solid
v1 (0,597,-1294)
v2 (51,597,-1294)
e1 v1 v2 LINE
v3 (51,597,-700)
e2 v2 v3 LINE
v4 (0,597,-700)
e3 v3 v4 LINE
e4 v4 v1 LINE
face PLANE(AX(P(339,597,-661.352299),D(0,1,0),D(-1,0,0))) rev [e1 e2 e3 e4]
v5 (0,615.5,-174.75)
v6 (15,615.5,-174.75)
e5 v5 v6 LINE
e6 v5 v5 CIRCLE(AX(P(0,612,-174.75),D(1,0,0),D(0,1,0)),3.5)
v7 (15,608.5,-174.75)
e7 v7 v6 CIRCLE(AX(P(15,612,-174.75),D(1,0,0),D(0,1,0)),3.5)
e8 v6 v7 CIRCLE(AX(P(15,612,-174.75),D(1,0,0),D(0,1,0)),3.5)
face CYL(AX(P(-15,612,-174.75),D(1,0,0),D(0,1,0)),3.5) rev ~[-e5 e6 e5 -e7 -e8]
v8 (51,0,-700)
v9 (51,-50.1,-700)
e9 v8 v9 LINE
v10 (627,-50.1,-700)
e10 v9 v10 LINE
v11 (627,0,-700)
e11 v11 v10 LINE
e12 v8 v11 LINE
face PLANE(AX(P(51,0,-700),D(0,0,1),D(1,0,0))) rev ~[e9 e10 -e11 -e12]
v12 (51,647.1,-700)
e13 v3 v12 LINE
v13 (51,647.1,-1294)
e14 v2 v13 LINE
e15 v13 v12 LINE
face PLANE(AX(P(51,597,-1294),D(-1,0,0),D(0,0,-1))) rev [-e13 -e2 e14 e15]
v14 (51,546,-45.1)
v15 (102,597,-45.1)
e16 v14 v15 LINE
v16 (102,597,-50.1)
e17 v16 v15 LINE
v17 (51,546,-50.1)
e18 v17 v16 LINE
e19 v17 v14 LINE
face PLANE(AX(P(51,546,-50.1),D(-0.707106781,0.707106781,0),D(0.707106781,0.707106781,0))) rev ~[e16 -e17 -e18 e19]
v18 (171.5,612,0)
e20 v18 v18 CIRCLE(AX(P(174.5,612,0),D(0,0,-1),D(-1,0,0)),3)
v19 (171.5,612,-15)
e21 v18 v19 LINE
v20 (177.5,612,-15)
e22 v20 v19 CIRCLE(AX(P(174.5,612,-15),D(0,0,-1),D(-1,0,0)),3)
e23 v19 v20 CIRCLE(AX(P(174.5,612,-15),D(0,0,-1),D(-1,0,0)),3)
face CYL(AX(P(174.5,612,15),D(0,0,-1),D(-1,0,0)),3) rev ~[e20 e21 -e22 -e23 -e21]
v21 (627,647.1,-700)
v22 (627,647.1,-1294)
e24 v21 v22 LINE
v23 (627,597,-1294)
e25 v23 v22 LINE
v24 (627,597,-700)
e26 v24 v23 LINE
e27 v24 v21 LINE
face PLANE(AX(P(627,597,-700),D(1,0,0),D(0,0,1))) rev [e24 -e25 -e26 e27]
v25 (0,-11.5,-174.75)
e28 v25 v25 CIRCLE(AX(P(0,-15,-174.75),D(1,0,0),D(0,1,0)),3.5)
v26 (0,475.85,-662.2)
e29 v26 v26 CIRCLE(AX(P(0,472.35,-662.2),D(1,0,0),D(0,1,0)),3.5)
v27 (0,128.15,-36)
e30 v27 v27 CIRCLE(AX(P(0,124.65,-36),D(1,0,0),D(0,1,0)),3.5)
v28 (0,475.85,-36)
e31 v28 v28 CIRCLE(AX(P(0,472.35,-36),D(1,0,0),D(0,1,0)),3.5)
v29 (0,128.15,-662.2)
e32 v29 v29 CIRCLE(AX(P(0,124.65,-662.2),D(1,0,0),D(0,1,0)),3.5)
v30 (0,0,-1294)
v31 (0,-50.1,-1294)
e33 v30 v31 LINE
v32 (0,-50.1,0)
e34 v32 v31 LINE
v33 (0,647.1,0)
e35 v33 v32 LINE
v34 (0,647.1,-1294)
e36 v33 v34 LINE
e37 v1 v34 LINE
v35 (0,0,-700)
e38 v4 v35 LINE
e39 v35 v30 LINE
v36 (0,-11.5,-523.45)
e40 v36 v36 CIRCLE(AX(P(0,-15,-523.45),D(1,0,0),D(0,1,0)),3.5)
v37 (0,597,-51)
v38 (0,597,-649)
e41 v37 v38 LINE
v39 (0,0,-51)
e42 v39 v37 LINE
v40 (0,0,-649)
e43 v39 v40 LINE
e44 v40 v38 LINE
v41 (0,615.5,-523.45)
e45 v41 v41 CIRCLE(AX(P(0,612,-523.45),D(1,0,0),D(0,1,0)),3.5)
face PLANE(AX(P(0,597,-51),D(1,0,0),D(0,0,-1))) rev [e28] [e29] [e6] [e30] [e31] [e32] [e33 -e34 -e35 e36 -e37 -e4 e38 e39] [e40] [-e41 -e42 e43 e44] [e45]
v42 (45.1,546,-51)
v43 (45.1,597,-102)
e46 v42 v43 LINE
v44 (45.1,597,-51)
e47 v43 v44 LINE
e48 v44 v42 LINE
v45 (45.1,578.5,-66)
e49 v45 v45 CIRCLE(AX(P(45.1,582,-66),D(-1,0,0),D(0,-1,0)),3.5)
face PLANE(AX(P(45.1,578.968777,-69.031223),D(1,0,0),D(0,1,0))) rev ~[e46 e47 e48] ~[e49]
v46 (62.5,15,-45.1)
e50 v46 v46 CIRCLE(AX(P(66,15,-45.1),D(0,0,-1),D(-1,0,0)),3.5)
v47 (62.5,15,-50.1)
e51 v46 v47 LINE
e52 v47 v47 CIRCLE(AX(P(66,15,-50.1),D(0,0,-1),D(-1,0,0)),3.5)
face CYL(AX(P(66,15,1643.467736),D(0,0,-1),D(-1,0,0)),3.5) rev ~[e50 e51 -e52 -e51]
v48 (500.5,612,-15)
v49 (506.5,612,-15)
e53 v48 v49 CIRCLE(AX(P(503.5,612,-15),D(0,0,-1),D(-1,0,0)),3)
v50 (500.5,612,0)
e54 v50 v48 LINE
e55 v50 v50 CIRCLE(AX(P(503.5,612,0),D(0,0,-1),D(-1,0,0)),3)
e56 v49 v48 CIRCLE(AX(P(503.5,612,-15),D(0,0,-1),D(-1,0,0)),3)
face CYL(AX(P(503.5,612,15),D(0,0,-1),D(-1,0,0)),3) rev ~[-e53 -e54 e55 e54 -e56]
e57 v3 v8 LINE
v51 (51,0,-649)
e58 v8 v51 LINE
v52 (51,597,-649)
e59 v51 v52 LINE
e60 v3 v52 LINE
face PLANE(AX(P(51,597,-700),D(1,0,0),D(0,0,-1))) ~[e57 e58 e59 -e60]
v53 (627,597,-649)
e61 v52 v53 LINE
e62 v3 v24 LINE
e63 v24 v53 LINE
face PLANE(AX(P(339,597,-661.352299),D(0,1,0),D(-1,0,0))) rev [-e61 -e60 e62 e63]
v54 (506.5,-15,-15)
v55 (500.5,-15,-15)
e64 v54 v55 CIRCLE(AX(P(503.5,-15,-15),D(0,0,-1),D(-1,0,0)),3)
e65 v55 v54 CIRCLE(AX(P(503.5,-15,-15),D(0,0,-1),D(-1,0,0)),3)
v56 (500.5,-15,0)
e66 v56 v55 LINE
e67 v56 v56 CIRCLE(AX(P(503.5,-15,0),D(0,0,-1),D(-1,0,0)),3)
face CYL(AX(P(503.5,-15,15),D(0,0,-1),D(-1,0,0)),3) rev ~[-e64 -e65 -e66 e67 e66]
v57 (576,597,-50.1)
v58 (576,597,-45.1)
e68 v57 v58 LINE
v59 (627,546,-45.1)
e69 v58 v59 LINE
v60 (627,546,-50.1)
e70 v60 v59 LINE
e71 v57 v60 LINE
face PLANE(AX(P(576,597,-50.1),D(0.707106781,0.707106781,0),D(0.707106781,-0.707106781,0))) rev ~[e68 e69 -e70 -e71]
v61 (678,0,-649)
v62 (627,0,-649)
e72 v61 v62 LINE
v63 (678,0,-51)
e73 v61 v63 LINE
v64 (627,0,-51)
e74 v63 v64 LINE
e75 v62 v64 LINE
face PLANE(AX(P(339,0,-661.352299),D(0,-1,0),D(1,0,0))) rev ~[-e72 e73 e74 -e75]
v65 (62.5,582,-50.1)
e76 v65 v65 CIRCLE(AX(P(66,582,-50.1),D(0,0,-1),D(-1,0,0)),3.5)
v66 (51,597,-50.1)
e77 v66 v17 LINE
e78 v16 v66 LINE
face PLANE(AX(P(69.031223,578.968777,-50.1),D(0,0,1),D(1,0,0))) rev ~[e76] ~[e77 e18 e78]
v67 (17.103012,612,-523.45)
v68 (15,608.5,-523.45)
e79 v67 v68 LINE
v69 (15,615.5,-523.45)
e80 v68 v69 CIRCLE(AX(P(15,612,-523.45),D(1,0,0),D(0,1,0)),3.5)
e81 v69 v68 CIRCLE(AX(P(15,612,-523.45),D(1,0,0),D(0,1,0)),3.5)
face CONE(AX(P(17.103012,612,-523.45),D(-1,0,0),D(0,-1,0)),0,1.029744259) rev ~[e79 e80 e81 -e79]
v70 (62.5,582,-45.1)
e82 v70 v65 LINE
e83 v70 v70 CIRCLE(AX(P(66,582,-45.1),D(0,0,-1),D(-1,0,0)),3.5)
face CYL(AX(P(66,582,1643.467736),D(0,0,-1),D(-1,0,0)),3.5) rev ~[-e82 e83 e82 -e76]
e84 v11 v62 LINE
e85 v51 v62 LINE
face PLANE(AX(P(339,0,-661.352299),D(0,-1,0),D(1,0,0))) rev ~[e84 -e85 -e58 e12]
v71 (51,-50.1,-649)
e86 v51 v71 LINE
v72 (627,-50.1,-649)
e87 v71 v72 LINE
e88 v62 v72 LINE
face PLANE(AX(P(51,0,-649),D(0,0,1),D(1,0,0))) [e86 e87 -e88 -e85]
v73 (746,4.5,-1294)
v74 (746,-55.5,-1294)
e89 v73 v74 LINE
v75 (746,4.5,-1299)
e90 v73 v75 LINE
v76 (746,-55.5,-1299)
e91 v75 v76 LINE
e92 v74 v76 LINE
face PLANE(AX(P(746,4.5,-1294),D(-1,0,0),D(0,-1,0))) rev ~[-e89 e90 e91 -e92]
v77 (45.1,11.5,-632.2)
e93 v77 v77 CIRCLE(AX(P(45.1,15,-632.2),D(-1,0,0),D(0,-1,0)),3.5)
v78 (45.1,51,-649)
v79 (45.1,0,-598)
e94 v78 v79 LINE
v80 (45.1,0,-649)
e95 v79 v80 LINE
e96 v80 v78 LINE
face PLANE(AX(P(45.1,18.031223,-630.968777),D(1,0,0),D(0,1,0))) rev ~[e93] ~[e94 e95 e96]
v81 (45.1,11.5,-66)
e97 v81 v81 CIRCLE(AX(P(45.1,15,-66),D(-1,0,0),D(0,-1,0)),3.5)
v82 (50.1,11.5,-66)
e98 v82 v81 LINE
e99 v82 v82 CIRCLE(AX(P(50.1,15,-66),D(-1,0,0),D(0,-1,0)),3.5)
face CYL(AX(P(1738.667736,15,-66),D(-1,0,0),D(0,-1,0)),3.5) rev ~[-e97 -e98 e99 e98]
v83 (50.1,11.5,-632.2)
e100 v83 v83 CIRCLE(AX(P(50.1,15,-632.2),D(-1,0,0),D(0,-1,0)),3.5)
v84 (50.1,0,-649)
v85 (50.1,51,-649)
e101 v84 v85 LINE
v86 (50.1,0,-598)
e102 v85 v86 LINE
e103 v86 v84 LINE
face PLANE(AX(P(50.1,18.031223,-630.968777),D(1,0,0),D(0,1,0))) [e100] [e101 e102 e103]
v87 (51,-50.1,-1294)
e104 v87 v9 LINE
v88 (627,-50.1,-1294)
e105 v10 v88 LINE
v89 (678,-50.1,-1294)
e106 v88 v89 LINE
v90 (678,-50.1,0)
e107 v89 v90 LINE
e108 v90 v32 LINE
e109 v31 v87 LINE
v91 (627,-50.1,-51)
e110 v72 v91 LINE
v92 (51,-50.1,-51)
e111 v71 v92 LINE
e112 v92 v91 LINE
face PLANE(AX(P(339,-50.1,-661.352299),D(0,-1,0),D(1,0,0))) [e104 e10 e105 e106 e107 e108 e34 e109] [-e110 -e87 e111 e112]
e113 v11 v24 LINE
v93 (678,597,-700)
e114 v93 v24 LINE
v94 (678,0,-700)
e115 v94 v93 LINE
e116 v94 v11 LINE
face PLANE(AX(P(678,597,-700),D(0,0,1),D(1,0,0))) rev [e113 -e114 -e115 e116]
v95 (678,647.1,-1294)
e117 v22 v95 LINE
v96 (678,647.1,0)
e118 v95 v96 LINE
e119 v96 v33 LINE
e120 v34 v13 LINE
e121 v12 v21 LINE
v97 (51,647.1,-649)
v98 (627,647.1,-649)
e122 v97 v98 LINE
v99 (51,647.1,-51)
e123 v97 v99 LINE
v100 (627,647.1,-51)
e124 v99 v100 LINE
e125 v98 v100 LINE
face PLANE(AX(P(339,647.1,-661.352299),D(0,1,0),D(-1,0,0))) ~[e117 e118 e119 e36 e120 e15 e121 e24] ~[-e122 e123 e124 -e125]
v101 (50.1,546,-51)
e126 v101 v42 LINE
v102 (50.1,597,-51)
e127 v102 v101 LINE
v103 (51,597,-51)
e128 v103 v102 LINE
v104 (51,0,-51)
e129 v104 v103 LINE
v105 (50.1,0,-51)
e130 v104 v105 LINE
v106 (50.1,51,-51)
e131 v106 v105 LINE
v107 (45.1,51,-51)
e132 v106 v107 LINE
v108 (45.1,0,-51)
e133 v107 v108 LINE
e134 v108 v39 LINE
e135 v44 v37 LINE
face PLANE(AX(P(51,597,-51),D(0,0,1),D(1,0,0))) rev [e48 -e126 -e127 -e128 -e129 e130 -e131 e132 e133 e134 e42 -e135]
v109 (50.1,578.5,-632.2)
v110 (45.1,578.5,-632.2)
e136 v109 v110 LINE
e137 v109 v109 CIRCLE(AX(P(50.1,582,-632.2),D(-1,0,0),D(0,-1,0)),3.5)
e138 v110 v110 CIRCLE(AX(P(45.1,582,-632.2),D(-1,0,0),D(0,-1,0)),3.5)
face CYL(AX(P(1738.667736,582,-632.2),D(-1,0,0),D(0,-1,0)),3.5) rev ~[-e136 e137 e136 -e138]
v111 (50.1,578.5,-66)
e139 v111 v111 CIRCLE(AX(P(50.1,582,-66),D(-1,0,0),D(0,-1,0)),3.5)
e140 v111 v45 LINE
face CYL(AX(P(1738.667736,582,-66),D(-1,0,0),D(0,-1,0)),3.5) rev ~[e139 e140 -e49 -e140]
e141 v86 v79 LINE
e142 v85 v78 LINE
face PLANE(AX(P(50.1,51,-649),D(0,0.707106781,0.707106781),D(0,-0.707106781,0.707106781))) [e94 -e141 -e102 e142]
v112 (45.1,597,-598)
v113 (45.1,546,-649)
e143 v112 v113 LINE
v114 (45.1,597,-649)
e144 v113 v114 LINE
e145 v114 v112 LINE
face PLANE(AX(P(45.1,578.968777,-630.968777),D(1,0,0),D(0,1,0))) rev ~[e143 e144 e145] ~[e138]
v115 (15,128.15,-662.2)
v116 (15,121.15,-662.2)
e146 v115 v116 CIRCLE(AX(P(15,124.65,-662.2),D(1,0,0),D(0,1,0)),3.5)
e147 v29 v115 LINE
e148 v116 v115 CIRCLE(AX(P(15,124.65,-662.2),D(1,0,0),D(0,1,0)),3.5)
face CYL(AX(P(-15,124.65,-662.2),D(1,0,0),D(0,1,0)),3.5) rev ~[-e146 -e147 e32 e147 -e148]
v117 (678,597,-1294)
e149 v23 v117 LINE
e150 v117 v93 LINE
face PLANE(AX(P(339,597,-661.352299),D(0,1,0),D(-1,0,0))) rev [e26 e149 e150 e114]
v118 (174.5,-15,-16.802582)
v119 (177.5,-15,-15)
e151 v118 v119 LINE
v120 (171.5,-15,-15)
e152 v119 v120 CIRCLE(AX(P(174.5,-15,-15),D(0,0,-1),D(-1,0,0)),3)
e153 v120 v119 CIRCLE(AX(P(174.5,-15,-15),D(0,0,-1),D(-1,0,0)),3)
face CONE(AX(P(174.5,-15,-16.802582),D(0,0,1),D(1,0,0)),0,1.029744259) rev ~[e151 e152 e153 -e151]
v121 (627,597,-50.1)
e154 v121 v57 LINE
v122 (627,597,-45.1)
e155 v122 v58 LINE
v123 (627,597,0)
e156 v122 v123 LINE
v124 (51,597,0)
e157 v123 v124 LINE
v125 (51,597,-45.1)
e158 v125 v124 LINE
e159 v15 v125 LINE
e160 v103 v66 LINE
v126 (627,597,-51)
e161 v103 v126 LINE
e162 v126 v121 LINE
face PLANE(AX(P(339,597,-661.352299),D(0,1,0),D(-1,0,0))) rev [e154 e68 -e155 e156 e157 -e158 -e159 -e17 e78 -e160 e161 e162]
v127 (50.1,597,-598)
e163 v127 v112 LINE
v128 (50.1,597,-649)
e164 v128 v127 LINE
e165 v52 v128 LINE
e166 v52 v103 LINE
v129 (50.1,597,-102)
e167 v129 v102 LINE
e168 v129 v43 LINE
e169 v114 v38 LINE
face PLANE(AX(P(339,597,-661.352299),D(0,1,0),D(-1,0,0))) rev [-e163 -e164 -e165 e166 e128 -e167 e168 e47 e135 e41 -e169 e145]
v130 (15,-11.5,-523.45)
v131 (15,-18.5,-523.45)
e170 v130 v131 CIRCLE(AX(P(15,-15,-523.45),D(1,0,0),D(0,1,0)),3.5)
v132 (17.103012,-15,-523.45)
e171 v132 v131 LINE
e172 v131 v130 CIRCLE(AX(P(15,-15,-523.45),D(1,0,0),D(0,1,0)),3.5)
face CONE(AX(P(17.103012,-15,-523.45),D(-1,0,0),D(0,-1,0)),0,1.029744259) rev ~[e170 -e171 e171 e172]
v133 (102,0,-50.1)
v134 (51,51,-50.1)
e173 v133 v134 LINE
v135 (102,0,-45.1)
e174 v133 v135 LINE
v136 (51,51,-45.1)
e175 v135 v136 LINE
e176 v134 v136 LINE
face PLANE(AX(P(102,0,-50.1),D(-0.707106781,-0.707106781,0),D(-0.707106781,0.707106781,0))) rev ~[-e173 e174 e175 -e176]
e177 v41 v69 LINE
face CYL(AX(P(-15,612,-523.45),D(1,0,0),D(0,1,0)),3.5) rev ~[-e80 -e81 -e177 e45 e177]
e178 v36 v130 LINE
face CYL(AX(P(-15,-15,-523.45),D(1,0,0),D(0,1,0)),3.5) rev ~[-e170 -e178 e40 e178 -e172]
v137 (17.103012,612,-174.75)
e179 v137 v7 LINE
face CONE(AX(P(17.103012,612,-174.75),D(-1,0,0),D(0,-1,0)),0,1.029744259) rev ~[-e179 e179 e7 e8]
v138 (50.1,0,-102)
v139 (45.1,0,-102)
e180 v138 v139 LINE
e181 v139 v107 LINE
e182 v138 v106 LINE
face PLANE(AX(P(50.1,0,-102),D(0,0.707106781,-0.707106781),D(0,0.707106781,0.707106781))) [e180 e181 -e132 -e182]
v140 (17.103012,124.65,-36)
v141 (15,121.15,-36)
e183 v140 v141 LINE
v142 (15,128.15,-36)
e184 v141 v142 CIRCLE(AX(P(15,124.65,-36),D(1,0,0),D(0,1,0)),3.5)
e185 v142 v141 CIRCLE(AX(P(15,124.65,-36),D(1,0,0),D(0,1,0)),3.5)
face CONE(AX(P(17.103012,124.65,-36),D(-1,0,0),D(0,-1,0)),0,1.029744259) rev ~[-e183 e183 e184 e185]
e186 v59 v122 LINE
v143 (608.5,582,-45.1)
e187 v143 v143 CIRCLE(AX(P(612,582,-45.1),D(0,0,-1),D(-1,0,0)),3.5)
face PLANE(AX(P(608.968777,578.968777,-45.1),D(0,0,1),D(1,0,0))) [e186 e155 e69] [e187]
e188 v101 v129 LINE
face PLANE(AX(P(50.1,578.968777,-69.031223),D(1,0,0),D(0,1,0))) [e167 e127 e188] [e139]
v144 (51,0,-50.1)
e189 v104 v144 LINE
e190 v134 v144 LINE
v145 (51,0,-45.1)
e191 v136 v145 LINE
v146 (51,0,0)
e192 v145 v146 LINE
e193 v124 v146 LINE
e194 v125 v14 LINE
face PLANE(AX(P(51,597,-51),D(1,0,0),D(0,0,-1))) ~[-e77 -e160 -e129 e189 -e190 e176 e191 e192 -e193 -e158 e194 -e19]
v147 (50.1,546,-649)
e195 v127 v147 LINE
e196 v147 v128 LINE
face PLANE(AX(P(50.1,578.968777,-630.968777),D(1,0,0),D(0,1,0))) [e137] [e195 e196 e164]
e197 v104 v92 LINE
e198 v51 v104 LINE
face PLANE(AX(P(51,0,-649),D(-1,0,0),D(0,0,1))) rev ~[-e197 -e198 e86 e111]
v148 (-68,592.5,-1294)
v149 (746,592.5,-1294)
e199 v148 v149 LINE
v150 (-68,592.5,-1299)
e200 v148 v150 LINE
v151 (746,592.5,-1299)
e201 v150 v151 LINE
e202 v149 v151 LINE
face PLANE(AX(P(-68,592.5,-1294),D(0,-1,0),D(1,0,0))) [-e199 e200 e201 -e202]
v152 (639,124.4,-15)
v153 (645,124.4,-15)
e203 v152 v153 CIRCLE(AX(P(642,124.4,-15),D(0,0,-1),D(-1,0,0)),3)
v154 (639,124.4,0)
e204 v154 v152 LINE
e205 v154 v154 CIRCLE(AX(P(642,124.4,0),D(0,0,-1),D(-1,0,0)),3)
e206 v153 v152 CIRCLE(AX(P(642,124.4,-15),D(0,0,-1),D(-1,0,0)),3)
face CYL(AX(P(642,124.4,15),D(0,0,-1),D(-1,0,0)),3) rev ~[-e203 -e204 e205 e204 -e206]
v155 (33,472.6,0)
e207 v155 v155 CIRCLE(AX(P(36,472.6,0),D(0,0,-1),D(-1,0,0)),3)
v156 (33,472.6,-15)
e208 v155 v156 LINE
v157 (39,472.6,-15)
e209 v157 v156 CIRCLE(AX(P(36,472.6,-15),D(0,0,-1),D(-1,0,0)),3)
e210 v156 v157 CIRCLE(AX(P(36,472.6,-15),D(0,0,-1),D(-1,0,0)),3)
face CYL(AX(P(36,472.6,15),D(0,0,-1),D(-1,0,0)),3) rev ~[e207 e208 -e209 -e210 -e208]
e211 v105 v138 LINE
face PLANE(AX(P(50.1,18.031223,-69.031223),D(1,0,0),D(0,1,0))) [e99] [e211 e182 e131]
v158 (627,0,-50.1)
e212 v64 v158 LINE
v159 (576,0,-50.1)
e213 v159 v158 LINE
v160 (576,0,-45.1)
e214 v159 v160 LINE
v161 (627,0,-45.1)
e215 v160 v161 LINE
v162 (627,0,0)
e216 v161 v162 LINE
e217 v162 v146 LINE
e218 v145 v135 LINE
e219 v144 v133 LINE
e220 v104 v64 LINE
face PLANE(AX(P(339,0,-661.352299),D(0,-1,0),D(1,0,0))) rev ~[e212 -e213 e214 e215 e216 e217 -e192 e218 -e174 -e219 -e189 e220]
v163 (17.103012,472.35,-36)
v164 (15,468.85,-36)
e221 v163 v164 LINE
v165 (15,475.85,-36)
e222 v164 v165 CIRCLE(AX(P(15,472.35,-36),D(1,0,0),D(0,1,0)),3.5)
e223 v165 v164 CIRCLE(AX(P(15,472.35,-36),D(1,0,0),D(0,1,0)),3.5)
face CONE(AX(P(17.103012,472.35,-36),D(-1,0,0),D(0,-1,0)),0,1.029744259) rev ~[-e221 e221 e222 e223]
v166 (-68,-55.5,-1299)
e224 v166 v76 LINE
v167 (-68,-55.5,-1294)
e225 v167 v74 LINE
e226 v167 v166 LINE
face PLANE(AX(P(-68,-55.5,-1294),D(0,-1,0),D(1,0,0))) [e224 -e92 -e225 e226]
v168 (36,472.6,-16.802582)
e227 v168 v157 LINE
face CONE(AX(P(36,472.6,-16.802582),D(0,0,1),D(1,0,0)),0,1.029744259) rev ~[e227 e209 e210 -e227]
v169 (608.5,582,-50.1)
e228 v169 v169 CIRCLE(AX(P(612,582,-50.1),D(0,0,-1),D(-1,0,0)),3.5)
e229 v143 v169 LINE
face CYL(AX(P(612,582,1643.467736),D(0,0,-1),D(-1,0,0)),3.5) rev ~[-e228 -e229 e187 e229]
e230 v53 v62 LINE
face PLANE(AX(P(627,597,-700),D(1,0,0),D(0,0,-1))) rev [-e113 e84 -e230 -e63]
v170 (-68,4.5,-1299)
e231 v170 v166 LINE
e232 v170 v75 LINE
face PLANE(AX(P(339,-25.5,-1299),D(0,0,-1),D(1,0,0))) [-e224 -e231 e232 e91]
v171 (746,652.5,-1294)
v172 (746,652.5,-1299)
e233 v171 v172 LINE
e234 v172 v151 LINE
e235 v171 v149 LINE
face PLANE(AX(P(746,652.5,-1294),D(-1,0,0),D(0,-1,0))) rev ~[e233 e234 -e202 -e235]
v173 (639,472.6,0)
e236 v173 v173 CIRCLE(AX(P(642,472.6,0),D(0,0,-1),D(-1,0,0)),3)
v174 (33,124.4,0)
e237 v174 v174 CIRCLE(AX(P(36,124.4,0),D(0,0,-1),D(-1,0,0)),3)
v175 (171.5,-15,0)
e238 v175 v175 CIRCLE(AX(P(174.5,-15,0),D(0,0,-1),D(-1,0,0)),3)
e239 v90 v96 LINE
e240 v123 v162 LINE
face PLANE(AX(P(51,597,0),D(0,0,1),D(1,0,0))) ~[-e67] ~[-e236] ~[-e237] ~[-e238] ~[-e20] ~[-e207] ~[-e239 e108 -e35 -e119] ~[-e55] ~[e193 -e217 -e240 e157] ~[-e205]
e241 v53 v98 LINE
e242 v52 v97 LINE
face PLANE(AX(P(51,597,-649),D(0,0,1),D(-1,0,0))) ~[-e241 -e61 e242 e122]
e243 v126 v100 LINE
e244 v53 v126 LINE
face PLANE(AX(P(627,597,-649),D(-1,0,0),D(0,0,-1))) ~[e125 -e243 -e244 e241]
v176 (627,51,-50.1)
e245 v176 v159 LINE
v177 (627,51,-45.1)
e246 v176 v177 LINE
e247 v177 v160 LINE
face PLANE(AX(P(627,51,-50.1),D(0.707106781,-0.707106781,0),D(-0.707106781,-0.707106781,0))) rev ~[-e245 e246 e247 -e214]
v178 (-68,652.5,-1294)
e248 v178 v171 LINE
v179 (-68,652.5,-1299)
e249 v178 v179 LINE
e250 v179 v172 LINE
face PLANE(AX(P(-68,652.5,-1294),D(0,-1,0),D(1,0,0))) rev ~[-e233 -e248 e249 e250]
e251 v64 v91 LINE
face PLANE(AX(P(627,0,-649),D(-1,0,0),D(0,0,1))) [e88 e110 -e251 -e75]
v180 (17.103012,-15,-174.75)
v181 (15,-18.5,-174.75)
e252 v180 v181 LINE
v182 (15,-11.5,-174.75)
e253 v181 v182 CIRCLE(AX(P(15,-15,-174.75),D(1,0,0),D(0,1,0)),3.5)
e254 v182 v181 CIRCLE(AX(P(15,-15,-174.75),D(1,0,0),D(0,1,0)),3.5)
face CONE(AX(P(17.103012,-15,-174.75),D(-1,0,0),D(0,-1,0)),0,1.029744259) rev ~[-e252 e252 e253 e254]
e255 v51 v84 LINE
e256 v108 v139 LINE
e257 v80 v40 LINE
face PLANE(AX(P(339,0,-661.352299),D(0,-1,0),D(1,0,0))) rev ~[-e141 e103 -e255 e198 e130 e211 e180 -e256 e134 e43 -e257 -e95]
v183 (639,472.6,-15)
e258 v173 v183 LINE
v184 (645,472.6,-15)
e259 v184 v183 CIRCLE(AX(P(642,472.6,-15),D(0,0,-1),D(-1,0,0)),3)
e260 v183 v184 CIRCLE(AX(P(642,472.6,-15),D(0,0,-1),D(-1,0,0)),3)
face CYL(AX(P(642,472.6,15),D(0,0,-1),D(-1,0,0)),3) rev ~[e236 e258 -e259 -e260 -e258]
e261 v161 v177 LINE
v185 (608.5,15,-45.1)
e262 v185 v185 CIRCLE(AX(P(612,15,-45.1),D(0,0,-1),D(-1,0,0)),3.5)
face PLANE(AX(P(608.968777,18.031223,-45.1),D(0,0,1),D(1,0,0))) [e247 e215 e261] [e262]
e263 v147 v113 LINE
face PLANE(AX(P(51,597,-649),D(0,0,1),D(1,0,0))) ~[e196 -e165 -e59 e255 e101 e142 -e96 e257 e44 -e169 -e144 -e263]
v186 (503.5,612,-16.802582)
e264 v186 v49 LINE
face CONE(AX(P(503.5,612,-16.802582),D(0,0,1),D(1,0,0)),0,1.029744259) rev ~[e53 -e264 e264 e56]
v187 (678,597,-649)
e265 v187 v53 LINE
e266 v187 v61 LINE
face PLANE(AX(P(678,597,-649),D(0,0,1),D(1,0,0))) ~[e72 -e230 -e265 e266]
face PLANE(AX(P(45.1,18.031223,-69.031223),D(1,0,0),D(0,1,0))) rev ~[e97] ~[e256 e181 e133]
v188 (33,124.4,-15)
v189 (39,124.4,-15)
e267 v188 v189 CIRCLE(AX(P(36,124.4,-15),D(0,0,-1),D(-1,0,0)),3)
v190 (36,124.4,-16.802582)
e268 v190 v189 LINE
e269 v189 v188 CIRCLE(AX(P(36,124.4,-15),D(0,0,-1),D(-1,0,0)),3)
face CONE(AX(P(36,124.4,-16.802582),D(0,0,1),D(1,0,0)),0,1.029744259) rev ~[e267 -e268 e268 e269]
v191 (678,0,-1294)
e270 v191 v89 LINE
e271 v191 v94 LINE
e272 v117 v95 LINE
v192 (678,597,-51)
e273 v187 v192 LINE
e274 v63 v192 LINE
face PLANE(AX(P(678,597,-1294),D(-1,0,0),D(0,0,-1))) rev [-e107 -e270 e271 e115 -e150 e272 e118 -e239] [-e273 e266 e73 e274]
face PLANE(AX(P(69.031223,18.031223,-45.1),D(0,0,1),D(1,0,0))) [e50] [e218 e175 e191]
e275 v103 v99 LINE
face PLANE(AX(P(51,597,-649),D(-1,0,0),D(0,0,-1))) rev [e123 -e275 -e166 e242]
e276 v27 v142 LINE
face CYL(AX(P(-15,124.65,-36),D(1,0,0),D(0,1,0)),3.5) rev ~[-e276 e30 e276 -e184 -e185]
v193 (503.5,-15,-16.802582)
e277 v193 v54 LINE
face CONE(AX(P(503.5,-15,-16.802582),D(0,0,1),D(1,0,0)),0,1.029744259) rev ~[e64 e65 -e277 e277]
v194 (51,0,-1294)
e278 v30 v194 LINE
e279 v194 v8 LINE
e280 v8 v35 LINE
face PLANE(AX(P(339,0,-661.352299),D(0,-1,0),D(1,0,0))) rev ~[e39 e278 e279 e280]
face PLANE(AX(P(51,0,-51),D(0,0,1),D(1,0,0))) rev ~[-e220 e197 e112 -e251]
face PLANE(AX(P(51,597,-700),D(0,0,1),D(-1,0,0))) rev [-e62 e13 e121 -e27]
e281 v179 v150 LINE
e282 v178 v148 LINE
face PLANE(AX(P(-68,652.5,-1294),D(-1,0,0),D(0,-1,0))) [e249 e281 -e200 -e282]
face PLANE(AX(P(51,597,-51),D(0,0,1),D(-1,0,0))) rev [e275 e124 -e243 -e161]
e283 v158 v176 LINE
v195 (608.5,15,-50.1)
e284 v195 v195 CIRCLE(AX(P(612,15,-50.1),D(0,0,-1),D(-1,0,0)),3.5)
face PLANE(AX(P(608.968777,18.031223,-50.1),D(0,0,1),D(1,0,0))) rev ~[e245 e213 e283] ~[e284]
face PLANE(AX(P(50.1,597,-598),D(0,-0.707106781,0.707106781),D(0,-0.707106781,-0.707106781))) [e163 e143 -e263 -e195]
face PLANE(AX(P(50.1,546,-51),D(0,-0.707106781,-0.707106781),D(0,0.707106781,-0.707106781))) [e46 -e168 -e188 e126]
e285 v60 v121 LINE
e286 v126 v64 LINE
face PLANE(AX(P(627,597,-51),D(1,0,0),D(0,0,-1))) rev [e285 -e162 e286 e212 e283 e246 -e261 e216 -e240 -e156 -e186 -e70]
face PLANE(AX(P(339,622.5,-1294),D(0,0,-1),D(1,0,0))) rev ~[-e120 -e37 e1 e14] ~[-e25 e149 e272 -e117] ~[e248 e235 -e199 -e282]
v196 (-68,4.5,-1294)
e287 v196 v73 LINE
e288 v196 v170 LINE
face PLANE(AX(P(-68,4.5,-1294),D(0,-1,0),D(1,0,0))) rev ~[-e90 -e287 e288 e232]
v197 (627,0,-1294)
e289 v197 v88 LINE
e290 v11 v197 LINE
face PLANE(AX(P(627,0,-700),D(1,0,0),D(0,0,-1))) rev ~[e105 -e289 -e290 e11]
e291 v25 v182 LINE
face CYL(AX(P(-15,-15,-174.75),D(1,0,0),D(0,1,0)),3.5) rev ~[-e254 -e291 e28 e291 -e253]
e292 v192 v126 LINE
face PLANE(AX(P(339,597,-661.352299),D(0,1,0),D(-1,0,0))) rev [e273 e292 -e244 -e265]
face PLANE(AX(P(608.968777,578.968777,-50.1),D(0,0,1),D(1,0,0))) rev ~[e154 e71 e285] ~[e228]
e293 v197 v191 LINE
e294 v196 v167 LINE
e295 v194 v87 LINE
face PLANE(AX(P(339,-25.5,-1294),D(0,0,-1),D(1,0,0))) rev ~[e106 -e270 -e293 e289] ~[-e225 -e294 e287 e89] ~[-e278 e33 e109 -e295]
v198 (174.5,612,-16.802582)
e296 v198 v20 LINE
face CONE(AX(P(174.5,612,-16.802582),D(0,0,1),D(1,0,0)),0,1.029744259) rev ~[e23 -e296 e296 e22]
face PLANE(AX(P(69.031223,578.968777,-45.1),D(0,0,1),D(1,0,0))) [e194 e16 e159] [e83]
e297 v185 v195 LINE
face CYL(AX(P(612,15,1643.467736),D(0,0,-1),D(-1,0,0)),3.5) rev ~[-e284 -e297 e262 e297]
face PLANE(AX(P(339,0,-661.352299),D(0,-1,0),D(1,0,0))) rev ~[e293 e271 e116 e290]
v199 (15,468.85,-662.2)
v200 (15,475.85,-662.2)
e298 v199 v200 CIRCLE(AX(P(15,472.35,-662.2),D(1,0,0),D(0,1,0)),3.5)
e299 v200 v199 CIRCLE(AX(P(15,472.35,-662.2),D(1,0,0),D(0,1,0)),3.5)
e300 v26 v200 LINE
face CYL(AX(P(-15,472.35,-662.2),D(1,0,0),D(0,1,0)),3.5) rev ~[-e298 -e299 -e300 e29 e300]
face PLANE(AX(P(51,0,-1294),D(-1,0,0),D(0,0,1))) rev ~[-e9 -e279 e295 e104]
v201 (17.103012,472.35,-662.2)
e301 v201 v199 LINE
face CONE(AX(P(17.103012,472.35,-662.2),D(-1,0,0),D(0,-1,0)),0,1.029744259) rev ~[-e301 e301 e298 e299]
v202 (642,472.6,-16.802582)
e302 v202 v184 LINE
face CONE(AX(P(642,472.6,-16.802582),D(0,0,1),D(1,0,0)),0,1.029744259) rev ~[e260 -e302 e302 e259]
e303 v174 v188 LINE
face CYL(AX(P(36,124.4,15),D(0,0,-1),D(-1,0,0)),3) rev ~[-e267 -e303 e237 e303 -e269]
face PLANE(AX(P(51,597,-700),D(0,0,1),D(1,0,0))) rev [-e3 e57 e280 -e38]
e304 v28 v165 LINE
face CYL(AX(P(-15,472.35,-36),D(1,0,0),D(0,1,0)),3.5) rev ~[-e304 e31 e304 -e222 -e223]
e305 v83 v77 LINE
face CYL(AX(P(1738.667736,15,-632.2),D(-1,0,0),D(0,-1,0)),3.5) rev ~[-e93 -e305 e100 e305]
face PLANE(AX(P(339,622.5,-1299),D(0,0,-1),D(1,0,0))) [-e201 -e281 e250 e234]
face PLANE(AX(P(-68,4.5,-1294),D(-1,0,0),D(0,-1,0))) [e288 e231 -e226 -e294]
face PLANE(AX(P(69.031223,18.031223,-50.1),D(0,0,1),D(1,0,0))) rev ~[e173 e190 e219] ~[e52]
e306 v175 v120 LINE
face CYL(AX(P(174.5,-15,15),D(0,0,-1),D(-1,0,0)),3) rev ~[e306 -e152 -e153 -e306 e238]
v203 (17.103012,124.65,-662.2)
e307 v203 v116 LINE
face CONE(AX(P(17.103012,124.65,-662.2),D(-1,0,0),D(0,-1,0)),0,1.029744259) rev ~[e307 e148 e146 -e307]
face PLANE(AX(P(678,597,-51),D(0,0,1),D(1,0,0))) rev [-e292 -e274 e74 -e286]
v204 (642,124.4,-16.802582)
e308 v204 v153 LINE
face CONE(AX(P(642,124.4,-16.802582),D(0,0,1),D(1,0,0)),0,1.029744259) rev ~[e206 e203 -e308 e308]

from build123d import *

# Parameters (mm, degrees)
F0_W      = 576
F0_H      = 598
F1_DEPTH  = 50.1
F3_W      = 51
F3_H      = 51
F4_DEPTH  = 298.5
F8_DEPTH  = 5
F12_DEPTH = 5
F13_W     = 814
F13_H     = 60
F14_DEPTH = 5
F16_D     = 7
F18_D     = 7
F20_D     = 7
F20_DEPTH = 15
F20_TIP   = 2.1030121666
F23_D     = 6
F23_DEPTH = 15
F23_TIP   = 1.8025818571


with BuildPart() as f1:
    # F0 (on Front) → F1 (new body)
    with BuildSketch(Plane.XZ):
        Polygon((51, 0), (0, 0), (0, -51), (0, -649), (0, -700), (0, -1294), (51, -1294), (51, -700), (627, -700), (627, -1294), (678, -1294), (678, -700), (678, -649), (678, -51), (678, 0), (627, 0), align=None)
        with Locations((339, -350)):
            Rectangle(F0_W, F0_H, mode=Mode.SUBTRACT)
    extrude(amount=F1_DEPTH)

    # F3 (on face) → F4 (join)
    with BuildSketch(Plane(origin=(0, 0, 0), x_dir=(-1, 0, 0), z_dir=(0, 1, 0))):
        with Locations((-25.5, -25.5)):
            Rectangle(F3_W, F3_H)
        with Locations((-652.5, -25.5)):
            Rectangle(F3_W, F3_H)
        with Locations((-652.5, -674.5)):
            Rectangle(F3_W, F3_H)
        with Locations((-25.5, -674.5)):
            Rectangle(F3_W, F3_H)
    extrude(amount=F4_DEPTH)

    # F5: F1 across plane


with BuildPart() as f1_1:
    add(f1.part)
    add(f1.part.mirror(Plane.XZ.offset(-298.5)))

    # F7 (on offset) → F8 (join)
    with BuildSketch(Plane.XY.offset(-50.1)):
        Polygon((51, 0), (102, 0), (51, 51), align=None)
        Polygon((51, 597), (51, 546), (102, 597), align=None)
        Polygon((576, 597), (627, 546), (627, 597), align=None)
        Polygon((627, 0), (627, 51), (576, 0), align=None)
    extrude(amount=F8_DEPTH)

    # F10 (on offset) → F12 (join)
    with BuildSketch(Plane.YZ.offset(50.1)):
        Polygon((51, -51), (0, -51), (0, -102), align=None)
        Polygon((546, -51), (597, -102), (597, -51), align=None)
        Polygon((0, -649), (51, -649), (0, -598), align=None)
        Polygon((597, -598), (546, -649), (597, -649), align=None)
    extrude(amount=-F12_DEPTH)

    # F13 (on face) → F14 (join)
    with BuildSketch(Plane(origin=(0, 0, -1294), x_dir=(1, 0, 0), z_dir=(0, 0, -1))):
        with Locations((339, 25.5)):
            Rectangle(F13_W, F13_H)
        with Locations((339, -622.5)):
            Rectangle(F13_W, F13_H)
    extrude(amount=F14_DEPTH)

    # F16 (through all)
    with Locations(Plane.XY.offset(-45.1)):
        with Locations((66, 582), (612, 582), (612, 15), (66, 15)):
            Hole(F16_D / 2)

    # F18 (through all)
    with Locations(Plane.YZ.offset(50.1)):
        with Locations((15, -632.2), (582, -632.2), (582, -66), (15, -66)):
            Hole(F18_D / 2)

    # F20
    with Locations(Plane(origin=(0, 0, 0), x_dir=(0, -1, 0), z_dir=(-1, 0, 0))):
        with Locations((-612, -174.75), (-472.35, -36), (-124.65, -36), (15, -174.75), (15, -523.45), (-124.65, -662.2), (-472.35, -662.2), (-612, -523.45)):
            Hole(F20_D / 2, depth=F20_DEPTH)
            with Locations((0, 0, -(F20_DEPTH + F20_TIP / 2))):  # 118° drill point
                Cone(0, F20_D / 2, F20_TIP, mode=Mode.SUBTRACT)

    # F23
    with Locations(Plane.XY):
        with Locations((174.5, -15), (36, 124.4), (36, 472.6), (174.5, 612), (503.5, 612), (642, 472.6), (642, 124.4), (503.5, -15)):
            Hole(F23_D / 2, depth=F23_DEPTH)
            with Locations((0, 0, -(F23_DEPTH + F23_TIP / 2))):  # 118° drill point
                Cone(0, F23_D / 2, F23_TIP, mode=Mode.SUBTRACT)


solid = f1_1.part
